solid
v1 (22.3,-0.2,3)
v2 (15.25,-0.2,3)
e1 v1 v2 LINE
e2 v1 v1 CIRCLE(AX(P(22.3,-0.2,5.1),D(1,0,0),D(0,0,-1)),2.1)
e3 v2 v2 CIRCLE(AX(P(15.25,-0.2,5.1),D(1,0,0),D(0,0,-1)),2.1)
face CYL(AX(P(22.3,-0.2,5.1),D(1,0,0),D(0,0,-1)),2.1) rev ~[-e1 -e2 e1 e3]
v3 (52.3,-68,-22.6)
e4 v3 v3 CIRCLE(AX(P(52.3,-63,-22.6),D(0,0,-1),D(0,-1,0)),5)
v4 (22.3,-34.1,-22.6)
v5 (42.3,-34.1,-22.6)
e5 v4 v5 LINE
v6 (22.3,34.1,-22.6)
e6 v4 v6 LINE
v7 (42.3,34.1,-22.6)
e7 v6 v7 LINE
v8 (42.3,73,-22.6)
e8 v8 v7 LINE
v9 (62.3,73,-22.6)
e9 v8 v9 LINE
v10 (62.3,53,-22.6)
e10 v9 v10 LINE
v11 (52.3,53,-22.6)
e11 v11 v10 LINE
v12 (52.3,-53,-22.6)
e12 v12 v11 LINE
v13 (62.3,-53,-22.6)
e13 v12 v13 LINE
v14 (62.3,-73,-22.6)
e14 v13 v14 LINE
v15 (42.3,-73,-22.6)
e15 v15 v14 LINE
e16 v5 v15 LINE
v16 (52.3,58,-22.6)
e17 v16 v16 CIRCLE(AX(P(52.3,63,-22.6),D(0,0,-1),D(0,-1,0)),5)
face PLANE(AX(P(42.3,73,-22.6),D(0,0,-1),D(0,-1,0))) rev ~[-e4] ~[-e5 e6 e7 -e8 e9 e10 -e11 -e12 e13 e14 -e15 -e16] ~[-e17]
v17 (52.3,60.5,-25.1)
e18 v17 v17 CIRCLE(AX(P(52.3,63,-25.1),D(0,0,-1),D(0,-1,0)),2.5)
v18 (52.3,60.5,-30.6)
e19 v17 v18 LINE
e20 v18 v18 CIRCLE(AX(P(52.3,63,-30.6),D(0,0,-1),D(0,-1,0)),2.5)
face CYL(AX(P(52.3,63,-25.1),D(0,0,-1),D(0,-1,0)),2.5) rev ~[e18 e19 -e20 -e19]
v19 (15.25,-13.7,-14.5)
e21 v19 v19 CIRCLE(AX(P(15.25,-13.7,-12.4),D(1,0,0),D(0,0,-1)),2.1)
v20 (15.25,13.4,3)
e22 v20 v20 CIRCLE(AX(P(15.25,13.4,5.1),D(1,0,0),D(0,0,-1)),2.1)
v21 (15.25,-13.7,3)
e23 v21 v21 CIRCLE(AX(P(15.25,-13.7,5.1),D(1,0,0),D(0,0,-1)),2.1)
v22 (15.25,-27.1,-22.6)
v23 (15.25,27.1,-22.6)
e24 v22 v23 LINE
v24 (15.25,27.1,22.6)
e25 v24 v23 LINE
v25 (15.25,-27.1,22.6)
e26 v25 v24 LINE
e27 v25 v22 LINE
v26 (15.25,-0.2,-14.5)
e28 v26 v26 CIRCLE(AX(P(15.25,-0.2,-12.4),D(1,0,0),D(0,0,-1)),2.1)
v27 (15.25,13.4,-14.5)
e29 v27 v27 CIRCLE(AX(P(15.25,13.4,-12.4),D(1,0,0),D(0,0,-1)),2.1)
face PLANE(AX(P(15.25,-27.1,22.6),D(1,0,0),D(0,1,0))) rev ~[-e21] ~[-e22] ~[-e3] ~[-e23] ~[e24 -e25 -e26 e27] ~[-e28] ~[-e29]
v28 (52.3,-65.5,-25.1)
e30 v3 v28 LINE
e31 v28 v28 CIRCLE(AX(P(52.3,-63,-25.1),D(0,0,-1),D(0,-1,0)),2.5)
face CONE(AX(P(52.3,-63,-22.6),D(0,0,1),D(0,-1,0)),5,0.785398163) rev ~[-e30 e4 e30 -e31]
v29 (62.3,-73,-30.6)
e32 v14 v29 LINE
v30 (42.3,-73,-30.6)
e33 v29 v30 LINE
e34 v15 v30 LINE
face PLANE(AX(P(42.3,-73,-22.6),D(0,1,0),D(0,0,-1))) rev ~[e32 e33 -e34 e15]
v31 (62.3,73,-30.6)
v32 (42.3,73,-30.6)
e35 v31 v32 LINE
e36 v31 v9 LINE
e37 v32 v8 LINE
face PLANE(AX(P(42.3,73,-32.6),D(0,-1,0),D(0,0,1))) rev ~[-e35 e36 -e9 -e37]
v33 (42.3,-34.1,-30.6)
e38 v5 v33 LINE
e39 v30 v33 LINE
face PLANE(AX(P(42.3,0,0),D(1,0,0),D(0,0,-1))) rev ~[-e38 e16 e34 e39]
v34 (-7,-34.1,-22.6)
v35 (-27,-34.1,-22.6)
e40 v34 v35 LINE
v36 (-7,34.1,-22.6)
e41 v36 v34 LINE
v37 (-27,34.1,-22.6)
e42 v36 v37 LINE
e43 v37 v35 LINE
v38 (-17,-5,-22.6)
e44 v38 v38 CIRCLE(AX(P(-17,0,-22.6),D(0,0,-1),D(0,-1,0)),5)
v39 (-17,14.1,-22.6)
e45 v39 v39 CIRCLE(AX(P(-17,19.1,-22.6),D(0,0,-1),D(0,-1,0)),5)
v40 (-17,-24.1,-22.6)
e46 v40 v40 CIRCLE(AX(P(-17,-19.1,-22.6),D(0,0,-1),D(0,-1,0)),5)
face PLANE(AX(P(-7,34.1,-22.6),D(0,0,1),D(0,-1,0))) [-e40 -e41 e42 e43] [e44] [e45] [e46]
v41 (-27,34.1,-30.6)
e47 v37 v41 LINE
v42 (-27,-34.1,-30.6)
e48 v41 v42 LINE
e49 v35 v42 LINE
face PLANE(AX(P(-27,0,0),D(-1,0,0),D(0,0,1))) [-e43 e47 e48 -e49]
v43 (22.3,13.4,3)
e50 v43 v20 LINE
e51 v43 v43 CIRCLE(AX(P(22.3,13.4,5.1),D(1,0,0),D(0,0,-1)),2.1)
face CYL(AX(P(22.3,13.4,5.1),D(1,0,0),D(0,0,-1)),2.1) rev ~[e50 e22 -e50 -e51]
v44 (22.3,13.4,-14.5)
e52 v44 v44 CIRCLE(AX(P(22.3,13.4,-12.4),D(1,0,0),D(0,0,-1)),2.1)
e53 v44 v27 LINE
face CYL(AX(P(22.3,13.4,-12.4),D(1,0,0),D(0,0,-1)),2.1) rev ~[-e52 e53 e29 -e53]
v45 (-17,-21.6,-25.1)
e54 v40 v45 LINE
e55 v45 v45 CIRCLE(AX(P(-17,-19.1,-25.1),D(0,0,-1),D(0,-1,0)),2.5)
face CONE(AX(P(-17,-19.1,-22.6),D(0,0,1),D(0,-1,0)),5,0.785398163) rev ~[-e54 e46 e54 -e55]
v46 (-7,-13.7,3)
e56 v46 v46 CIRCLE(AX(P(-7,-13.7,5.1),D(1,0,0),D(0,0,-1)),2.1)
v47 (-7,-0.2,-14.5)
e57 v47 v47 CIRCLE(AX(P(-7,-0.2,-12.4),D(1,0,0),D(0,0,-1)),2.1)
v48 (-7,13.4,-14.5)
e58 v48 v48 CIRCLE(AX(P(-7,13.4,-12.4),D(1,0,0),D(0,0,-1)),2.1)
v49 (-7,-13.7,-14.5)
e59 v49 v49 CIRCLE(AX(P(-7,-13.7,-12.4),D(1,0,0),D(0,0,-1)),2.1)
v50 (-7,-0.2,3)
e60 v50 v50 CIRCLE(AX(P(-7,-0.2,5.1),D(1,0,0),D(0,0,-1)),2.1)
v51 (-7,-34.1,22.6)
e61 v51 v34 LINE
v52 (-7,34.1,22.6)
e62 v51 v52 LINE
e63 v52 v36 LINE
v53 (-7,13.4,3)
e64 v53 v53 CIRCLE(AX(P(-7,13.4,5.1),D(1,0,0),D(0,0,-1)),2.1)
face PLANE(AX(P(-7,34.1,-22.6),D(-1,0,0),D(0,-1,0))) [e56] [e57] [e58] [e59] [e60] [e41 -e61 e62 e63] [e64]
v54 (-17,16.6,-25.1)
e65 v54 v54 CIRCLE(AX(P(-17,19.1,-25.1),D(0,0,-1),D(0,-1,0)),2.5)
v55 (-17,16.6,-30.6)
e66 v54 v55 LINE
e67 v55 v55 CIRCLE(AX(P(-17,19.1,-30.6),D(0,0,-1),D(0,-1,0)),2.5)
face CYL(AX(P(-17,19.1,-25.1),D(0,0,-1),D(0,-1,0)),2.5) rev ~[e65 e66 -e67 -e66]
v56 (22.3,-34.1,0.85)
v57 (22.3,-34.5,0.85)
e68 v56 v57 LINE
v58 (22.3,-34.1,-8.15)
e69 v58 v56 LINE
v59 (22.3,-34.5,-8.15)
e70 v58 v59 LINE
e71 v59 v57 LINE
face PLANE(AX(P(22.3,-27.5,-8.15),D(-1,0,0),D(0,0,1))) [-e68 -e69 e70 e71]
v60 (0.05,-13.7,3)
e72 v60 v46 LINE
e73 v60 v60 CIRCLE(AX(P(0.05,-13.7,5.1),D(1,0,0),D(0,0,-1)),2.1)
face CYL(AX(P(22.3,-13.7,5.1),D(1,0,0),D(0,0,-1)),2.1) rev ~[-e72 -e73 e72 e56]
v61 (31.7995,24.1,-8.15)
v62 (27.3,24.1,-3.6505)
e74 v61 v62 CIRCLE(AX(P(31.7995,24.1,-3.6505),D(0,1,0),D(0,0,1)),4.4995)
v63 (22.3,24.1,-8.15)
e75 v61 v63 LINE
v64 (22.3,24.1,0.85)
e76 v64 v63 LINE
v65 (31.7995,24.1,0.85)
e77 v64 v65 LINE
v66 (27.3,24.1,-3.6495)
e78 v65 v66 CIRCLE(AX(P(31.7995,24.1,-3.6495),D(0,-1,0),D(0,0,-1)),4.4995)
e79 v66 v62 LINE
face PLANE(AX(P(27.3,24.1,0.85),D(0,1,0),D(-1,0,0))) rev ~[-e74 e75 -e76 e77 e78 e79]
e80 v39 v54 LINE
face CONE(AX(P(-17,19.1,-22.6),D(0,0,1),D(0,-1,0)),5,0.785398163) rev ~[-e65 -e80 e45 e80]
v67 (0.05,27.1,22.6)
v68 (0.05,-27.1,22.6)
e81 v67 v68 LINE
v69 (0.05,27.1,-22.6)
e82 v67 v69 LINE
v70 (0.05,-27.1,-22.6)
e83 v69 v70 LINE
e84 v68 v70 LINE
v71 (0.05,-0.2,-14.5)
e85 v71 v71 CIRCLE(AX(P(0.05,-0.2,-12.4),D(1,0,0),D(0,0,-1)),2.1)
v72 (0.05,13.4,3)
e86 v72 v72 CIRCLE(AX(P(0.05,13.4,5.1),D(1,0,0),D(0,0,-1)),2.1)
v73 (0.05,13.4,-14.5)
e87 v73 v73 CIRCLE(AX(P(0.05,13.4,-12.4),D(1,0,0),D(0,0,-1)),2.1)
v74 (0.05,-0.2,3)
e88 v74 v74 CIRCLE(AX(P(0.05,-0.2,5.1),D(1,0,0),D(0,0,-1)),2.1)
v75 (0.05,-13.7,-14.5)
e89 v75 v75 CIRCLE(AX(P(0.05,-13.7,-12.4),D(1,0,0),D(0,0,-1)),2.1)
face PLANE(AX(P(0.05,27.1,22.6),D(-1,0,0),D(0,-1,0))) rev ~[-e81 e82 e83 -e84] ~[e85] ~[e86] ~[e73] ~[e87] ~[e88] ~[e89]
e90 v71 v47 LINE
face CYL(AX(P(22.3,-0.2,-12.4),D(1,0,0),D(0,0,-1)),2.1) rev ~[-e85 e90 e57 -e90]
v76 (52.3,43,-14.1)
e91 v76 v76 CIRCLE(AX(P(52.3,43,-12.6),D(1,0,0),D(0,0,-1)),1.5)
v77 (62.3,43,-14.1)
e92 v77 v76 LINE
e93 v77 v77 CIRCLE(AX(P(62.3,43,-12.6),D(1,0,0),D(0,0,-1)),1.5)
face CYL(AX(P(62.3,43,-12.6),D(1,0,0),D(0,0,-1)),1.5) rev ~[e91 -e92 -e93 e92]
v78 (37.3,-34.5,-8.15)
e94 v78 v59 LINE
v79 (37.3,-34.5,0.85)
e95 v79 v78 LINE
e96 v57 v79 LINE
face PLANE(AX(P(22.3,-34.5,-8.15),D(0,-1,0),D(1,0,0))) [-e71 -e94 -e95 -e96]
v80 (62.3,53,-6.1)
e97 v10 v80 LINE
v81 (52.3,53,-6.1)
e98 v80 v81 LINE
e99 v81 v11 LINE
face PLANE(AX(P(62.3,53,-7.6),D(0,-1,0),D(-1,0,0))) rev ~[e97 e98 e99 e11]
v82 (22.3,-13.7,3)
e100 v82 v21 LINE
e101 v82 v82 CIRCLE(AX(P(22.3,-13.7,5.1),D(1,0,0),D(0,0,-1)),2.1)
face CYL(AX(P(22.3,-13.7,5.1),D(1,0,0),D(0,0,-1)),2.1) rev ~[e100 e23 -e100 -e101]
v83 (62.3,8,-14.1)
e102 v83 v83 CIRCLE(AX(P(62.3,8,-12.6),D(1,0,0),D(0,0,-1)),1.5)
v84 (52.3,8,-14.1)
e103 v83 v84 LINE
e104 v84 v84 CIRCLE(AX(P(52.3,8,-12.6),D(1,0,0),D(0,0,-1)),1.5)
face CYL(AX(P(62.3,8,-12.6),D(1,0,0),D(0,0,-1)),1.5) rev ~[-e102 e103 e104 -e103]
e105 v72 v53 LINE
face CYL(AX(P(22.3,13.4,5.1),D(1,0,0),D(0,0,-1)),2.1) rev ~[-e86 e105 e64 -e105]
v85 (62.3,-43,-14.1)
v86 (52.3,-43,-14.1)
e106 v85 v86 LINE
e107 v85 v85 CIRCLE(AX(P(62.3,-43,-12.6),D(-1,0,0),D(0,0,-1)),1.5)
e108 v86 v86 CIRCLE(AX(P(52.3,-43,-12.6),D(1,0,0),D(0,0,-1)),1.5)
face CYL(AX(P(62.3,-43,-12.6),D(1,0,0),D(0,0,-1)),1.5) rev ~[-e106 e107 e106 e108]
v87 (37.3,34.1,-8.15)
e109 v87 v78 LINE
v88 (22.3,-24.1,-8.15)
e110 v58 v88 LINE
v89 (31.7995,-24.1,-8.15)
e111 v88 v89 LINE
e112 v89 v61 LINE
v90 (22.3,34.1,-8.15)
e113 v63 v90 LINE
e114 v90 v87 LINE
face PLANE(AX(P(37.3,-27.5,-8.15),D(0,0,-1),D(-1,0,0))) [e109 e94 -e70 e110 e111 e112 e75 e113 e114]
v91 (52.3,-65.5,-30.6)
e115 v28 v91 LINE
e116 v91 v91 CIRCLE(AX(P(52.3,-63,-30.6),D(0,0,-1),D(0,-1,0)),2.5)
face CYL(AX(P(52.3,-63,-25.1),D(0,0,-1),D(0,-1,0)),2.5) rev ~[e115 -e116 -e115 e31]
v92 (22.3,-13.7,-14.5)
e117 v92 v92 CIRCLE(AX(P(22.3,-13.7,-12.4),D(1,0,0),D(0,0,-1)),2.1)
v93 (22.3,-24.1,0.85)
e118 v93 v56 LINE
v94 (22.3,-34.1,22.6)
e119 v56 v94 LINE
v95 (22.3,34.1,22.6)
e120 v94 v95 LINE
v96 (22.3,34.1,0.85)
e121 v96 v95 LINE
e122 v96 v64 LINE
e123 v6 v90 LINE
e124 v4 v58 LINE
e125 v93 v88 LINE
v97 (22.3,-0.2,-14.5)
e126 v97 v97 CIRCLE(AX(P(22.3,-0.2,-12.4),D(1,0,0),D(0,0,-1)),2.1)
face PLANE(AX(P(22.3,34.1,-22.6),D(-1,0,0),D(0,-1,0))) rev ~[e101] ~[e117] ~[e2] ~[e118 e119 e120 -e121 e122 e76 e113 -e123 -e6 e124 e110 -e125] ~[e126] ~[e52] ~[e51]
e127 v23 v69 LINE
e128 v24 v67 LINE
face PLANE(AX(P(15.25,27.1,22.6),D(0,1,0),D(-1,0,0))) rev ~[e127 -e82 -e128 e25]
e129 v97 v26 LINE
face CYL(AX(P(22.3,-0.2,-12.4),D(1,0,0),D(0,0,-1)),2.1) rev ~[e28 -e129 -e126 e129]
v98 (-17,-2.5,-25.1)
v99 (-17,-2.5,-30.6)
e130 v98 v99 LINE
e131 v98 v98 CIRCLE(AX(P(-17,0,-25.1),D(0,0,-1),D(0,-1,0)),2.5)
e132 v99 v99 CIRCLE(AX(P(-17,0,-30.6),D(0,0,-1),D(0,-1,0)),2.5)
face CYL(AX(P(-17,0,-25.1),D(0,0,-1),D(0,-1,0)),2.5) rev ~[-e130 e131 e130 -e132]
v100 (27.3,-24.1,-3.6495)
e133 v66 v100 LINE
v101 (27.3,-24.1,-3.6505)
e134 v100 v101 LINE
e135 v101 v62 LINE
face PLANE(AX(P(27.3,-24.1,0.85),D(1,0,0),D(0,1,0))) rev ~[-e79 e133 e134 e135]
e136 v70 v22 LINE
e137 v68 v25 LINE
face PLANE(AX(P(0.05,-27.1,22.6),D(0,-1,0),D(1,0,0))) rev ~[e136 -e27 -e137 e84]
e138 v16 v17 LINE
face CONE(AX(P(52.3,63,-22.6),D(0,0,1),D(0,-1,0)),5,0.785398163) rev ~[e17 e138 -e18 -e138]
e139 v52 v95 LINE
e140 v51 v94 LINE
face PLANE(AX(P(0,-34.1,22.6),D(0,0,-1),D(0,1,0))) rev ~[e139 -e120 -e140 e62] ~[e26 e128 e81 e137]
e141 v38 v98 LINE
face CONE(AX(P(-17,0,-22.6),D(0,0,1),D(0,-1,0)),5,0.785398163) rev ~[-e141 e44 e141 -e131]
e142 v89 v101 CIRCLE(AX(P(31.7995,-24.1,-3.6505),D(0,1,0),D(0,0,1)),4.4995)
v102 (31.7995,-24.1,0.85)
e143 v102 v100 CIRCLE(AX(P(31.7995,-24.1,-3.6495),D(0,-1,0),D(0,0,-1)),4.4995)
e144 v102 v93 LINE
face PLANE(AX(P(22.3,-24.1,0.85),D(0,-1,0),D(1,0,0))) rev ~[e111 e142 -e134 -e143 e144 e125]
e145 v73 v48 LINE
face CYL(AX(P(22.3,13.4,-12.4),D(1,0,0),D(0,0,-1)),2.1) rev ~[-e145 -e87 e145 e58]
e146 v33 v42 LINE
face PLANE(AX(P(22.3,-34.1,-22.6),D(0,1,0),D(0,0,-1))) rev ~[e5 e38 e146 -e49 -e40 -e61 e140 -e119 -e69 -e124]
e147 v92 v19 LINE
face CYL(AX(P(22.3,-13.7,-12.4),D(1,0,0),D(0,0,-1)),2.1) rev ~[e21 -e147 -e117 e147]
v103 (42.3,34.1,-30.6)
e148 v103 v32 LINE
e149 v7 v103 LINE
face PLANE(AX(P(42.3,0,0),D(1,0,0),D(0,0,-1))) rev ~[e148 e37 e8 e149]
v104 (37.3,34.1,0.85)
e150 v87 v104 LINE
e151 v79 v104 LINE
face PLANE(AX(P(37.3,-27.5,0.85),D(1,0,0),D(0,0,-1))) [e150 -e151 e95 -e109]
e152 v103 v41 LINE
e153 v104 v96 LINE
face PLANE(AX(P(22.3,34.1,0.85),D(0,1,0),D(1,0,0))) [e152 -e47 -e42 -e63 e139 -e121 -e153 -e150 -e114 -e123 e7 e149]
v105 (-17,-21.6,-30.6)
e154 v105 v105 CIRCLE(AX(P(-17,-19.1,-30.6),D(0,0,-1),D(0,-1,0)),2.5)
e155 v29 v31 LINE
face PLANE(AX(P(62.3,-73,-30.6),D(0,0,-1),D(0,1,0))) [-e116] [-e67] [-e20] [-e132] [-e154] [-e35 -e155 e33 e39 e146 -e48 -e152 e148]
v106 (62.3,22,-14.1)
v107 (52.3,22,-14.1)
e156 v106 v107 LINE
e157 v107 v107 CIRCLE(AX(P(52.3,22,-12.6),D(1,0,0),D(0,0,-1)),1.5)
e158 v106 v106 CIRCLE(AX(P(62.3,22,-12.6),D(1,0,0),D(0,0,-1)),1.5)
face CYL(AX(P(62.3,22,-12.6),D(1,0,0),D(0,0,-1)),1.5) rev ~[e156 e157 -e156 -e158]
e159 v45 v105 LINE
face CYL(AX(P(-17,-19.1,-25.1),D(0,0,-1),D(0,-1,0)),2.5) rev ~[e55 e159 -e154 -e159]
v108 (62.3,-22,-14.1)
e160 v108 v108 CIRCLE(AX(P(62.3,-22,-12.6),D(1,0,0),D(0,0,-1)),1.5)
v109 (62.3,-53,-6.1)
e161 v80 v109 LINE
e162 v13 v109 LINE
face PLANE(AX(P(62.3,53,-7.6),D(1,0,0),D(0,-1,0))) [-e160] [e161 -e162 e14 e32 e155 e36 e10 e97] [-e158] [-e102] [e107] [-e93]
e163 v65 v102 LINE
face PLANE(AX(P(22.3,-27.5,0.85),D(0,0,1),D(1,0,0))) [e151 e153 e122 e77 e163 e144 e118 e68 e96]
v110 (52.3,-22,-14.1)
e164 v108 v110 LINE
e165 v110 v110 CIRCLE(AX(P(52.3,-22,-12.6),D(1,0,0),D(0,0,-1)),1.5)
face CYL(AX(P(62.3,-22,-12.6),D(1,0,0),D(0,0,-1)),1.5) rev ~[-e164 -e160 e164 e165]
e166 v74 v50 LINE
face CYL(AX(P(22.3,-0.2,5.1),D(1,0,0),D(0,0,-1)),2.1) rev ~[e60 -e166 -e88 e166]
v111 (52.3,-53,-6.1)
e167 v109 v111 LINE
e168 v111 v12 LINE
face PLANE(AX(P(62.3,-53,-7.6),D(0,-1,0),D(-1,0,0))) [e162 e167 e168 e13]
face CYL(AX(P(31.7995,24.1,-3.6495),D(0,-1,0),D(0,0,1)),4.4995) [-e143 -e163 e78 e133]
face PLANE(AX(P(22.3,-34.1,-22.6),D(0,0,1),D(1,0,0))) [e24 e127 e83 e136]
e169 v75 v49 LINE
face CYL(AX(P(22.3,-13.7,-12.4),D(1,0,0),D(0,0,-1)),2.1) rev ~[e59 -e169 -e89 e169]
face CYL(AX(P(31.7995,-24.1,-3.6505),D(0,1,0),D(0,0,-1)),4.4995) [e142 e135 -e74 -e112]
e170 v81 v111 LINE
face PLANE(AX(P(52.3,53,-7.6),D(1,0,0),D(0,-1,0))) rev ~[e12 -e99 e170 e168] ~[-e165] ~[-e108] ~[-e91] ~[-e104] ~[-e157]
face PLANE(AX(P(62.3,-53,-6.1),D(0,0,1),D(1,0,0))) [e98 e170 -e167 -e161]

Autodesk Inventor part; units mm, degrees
ref_plane "YZ Plane" through (0, 0, 0) normal (1, 0, 0) x (0, 1, 0)
ref_plane "XZ Plane" through (0, 0, 0) normal (0, 1, 0) x (-1, 0, 0)
ref_plane "XY Plane" through (0, 0, 0) normal (0, 0, 1) x (1, 0, 0)
sketch "Sketch1" plane through (0, 0, 0) normal (1, 0, 0) x (0, 1, 0)
  line L0 (27.1, -22.6) -> (-27.1, -22.6)
  line L1 (-27.1, -22.6) -> (-27.1, 22.6)
  line L2 (-27.1, 22.6) -> (27.1, 22.6)
  line L3 (27.1, 22.6) -> (27.1, -22.6)
  line L4 (27.1, -22.6) -> (-27.1, 22.6) construction
  line L5 (-27.1, -22.6) -> (27.1, 22.6) construction
  point P0 (0, 0)
  dimension "d0" = 54.2
  dimension "d1" = 45.2
extrude "Extrusion1" add sketch "Sketch1" along normal blind 15.3
sketch "Sketch2" plane through (0, 27.1, 22.6) normal (0, 1, 0) x (1, 0, 0)
  line L0 (15.3, 0) -> (15.3, 45.2) projected
  line L1 (0, 0) -> (0, 45.2) projected
  line L2 (15.3, 0) -> (0, 0)
  line L3 (0, 0) -> (0, 45.2)
  line L4 (0, 45.2) -> (15.3, 45.2)
  line L5 (15.3, 45.2) -> (15.3, 0)
  point P0 (0, 22.6)
extrude "Extrusion2" add sketch "Sketch2" along normal blind 7
sketch "Sketch3" plane through (0, -27.1, -22.6) normal (0, -1, 0) x (1, 0, 0)
  line L0 (0, 45.2) -> (0, 0) projected
  line L1 (15.3, 45.2) -> (15.3, 0) projected
  line L2 (0, 45.2) -> (15.3, 45.2)
  line L3 (15.3, 45.2) -> (15.3, 0)
  line L4 (15.3, 0) -> (0, 0)
  line L5 (0, 0) -> (0, 45.2)
  point P0 (0, 22.6)
extrude "Extrusion3" add sketch "Sketch3" along normal blind 7
sketch "Sketch4" plane through (15.3, 0, 0) normal (1, 0, 0) x (0, 0, -1)
  line L0 (-22.6, -34.1) -> (-22.6, 34.1) projected
  line L1 (-22.6, 34.1) -> (22.6, 34.1) projected
  line L2 (-22.6, -34.1) -> (22.6, -34.1)
  line L3 (22.6, -34.1) -> (22.6, 34.1)
  line L4 (22.6, 34.1) -> (-22.6, 34.1)
  line L5 (-22.6, 34.1) -> (-22.6, -34.1)
  point P0 (0, 0)
extrude "Extrusion4" add sketch "Sketch4" along normal blind 7
sketch "Sketch5" plane through (0, 0, 0) normal (-1, 0, 0) x (0, 0, 1)
  line L0 (-22.6, 34.1) -> (22.6, 34.1) projected
  line L1 (22.6, -34.1) -> (-22.6, -34.1) projected
  line L2 (22.6, 34.1) -> (-22.6, 34.1)
  line L3 (-22.6, 34.1) -> (-22.6, -34.1)
  line L4 (-22.6, -34.1) -> (22.6, -34.1)
  line L5 (22.6, -34.1) -> (22.6, 34.1)
  point P0 (0, 0)
extrude "Extrusion5" add sketch "Sketch5" along normal blind 7
sketch "Sketch6" plane through (22.3, -34.1, -22.6) normal (0, 0, -1) x (-1, 0, 0)
  line L0 (29.3, 0) -> (0, 0) projected
  line L1 (0, 68.2) -> (0, 0) projected
  line L2 (29.3, 0) -> (0, 0)
  line L3 (0, 0) -> (0, 68.2)
  line L4 (0, 68.2) -> (29.3, 68.2)
  line L5 (29.3, 68.2) -> (29.3, 0)
  point P0 (22.3, 34.1)
extrude "Extrusion6" add sketch "Sketch6" along normal blind 10
sketch "Sketch7" plane through (-7, 0, 0) normal (-1, 0, 0) x (0, 0, 1)
  line L0 (22.6, 34.1) -> (-32.6, 34.1) projected
  line L1 (22.6, -34.1) -> (-32.6, -34.1) projected
  line L2 (-32.6, 34.1) -> (-22.6, 34.1)
  line L3 (-22.6, 34.1) -> (-22.6, -34.1)
  line L4 (-22.6, -34.1) -> (-32.6, -34.1)
  line L5 (-32.6, -34.1) -> (-32.6, 34.1)
  point P0 (0, 0)
  dimension "d14" = 10
extrude "Extrusion7" add sketch "Sketch7" along normal blind 20
sketch "Sketch8" plane through (22.3, -34.1, 22.6) normal (0, 0, 1) x (1, 0, 0)
  line L0 (0, 68.2) -> (-49.3, 68.2) projected
  line L1 (-29.3, 0) -> (-29.3, 68.2) projected
  line L2 (0, 68.2) -> (-29.3, 68.2)
  line L3 (-29.3, 68.2) -> (-29.3, 0)
  line L4 (-29.3, 0) -> (0, 0)
  line L5 (0, 0) -> (0, 68.2)
  line L6 (-22.25, 7) -> (-7.05, 7)
  line L7 (-7.05, 7) -> (-7.05, 61.2)
  line L8 (-7.05, 61.2) -> (-22.25, 61.2)
  line L9 (-22.25, 61.2) -> (-22.25, 7)
  line L10 (-22.25, 7) -> (-7.05, 61.2) construction
  line L11 (-7.05, 7) -> (-22.25, 61.2) construction
  point P0 (-22.3, 34.1)
  point P1 (-14.65, 34.1)
  dimension "d17" = 15.2
  dimension "d18" = 54.2
extrude "Extrusion8" cut sketch "Sketch8" against normal blind 45.2 contours L9 L8 L7 L6
sketch "Sketch9" plane through (22.3, 0, 0) normal (1, 0, 0) x (0, 0, -1)
  line L0 (-22.6, -27.1) -> (22.6, -27.1) projected
  line L1 (-22.6, 27.1) -> (22.6, 27.1) projected
  line L2 (-22.6, -27.1) -> (22.6, -27.1)
  line L3 (22.6, -27.1) -> (22.6, 27.1)
  line L4 (22.6, 27.1) -> (-22.6, 27.1)
  line L5 (-22.6, 27.1) -> (-22.6, -27.1)
  line L6 (-22.6, -27.1) -> (-5.1, -27.1)
  circle A0 centre (-5.1, -13.7) radius 2.1
  circle A1 centre (-5.1, -0.2) radius 2.1
  circle A2 centre (-5.1, 13.4) radius 2.1
  circle A3 centre (12.4, -13.7) radius 2.1
  circle A4 centre (12.4, -0.2) radius 2.1
  circle A5 centre (12.4, 13.4) radius 2.1
  point P0 (0, 0)
extrude "Extrusion9" cut sketch "Sketch9" against normal blind 39.25 contours A0 | A1 | A2 | A3 | A4 | A5
sketch "Sketch10" plane through (22.3, 0, 0) normal (1, 0, 0) x (0, 0, -1)
  line L0 (-22.6, -34.1) -> (32.6, -34.1) projected
  line L1 (-22.6, 34.1) -> (32.6, 34.1) projected
  line L2 (32.6, -34.1) -> (22.6, -34.1)
  line L3 (22.6, -34.1) -> (22.6, 34.1)
  line L4 (22.6, 34.1) -> (32.6, 34.1)
  line L5 (32.6, 34.1) -> (32.6, -34.1)
  point P0 (0, 0)
  dimension "d36" = 10
extrude "Extrusion10" add sketch "Sketch10" along normal blind 20
sketch "Sketch11" plane through (42.3, 0, 0) normal (1, 0, 0) x (0, 0, -1)
  line L0 (32.6, 73) -> (22.6, 73)
  line L1 (22.6, 73) -> (22.6, -73)
  line L2 (22.6, -73) -> (32.6, -73)
  line L3 (32.6, -73) -> (32.6, 73)
  line L4 (32.6, 73) -> (22.6, -73) construction
  line L5 (22.6, 73) -> (32.6, -73) construction
  point P0 (0, 0)
  point P1 (27.6, 0)
  dimension "d62" = 10
  dimension "d63" = 146
sketch "Sketch12" plane through (22.3, 0, 0) normal (1, 0, 0) x (0, 0, -1)
  circle A0 centre (-5.1, -0.2) radius 2.1 projected
  circle A1 centre (12.4, -0.2) radius 2.1 projected
  line L0 (-5.1, -0.2) -> (12.4, -0.2)
  line L1 (-22.6, 27.1) -> (22.6, 27.1) projected
  line L2 (-0.85, -27.5) -> (8.15, -27.5)
  line L3 (8.15, -27.5) -> (8.15, 27.1)
  line L4 (8.15, 27.1) -> (-0.85, 27.1)
  line L5 (-0.85, 27.1) -> (-0.85, -27.5)
  line L6 (-0.85, -27.5) -> (8.15, 27.1) construction
  line L7 (8.15, -27.5) -> (-0.85, 27.1) construction
  point P0 (0, 0)
  point P1 (3.65, -0.2)
  dimension "d42" = 9
extrude "Extrusion12" add sketch "Sketch12" along normal blind 15 contours L5 L1 L3 L0 | L0 L3 L2 L5
sketch "Sketch13" plane through (22.3, -27.5, 0.85) normal (0, 0, 1) x (1, 0, 0)
  line L0 (0, 0) -> (15, 0) projected
  line L1 (15, 0) -> (15, 10)
  line L2 (15, 54.6) -> (15, 0) projected
  line L3 (15, 0) -> (25, 0) construction
  line L4 (0, 54.6) -> (15, 54.6) projected
  line L5 (15, 54.6) -> (15, 44.6)
  line L6 (0, 54.6) -> (0, 0) projected
  line L7 (5, 10) -> (5, 44.6)
  line L8 (0, 44.6) -> (0, 10)
  line L9 (0, -6.6) -> (0, 3.4)
  line L10 (0, 61.6) -> (0, 51.6)
  line L11 (0, 61.6) -> (10, 61.6) construction
  line L12 (0, 3.4) -> (5, 3.4)
  line L13 (5, 3.4) -> (5, 51.6)
  line L14 (5, 51.6) -> (0, 51.6)
  line L15 (0, 51.6) -> (0, 3.4)
  point P0 (-22.3, 27.5)
  dimension "d45" = 10
  dimension "d46" = 90
  dimension "d47" = 10
  dimension "d48" = 5
  dimension "d56" = 10
  dimension "d57" = 10
  dimension "d58" = 90
sketch "Sketch14" plane through (22.3, 27.1, 0.85) normal (0, 1, 0) x (1, 0, 0)
  line L0 (15, 9) -> (15, 0) projected
  line L1 (0, 9) -> (0, 0) projected
  line L2 (15, 0) -> (0, 0)
  line L3 (0, 0) -> (0, 9)
  line L4 (0, 9) -> (15, 9)
  line L5 (15, 9) -> (15, 0)
  point P0 (-22.3, 0.85)
extrude "Extrusion14" add sketch "Sketch14" along normal blind 7
sketch "Sketch15" plane through (22.3, -27.5, -8.15) normal (0, -1, 0) x (1, 0, 0)
  line L0 (0, 0) -> (0, 9) projected
  line L1 (15, 9) -> (15, 0) projected
  line L2 (0, 9) -> (15, 9)
  line L3 (15, 9) -> (15, 0)
  line L4 (15, 0) -> (0, 0)
  line L5 (0, 0) -> (0, 9)
  point P0 (-22.3, 8.15)
extrude "Extrusion15" add sketch "Sketch15" along normal blind 7
extrude "Extrusion16" cut sketch "Sketch13" against normal blind 9.75 contours L6 L14 L13 L7 L12
fillet "Fillet2" radius 4.5 2 edges at (27.3, 0, 0.85) (27.3, 0, -8.15)
extrude "Extrusion17" add sketch "Sketch11" along normal blind 20
sketch "Sketch16" plane through (22.3, -34.1, -22.6) normal (0, 0, 1) x (1, 0, 0)
  line L0 (20, 0) -> (20, -38.9) projected
  line L1 (40, -38.9) -> (40, 107.1) projected
  line L2 (20, -38.9) -> (40, -38.9)
  line L3 (40, -38.9) -> (40, 107.1)
  line L4 (40, 107.1) -> (20, 107.1)
  line L5 (20, 107.1) -> (20, -38.9)
  line L6 (20, -38.9) -> (20, -18.9)
  line L7 (20, -18.9) -> (40, -18.9)
  line L8 (40, -18.9) -> (40, -38.9)
  line L9 (20, 107.1) -> (20, 87.1)
  line L10 (20, 68.2) -> (20, 107.1) projected
  line L11 (20, 87.1) -> (40, 87.1)
  line L12 (40, 107.1) -> (40, 87.1)
  line L13 (40, 107.1) -> (20, 107.1)
  line L14 (40, -18.9) -> (30, -18.9)
  line L15 (30, -18.9) -> (30, 87.1)
  line L16 (30, 87.1) -> (40, 87.1)
  line L17 (40, 87.1) -> (40, -18.9)
  point P0 (-22.3, 34.1)
  dimension "d66" = 20
  dimension "d67" = 20
  dimension "d68" = 10
extrude "Extrusion18" add sketch "Sketch16" along normal blind 20 contours L15 L11 L1 L7
sketch "Sketch17" plane through (62.3, 0, 0) normal (1, 0, 0) x (0, 0, -1)
  line L0 (2.6, -53) -> (2.6, 53) projected
  line L1 (22.6, -53) -> (2.6, -53) projected
  line L2 (2.6, -53) -> (22.6, -53)
  line L3 (22.6, 53) -> (2.6, 53) projected
  line L4 (22.6, -53) -> (22.6, 53)
  line L5 (2.6, 53) -> (2.6, 43)
  line L6 (2.6, 43) -> (2.6, 22)
  line L7 (2.6, -53) -> (2.6, -43)
  line L8 (2.6, -43) -> (2.6, -22)
  line L9 (2.6, 22) -> (2.6, 8)
  line L10 (2.6, -43) -> (12.6, -43)
  circle A0 centre (12.6, -43) radius 1.5
  circle A1 centre (12.6, -22) radius 1.5
  circle A2 centre (12.6, 8) radius 1.5
  circle A3 centre (12.6, 22) radius 1.5
  circle A4 centre (12.6, 43) radius 1.5
  line L11 (2.6, -53) -> (7.6, -53)
  line L12 (7.6, -53) -> (7.6, 53)
  line L13 (7.6, 53) -> (2.6, 53)
  line L14 (2.6, 53) -> (2.6, -53)
  point P0 (0, 0)
  dimension "d71" = 10
  dimension "d72" = 21
  dimension "d73" = 10
  dimension "d74" = 21
  dimension "d75" = 14
  dimension "d76" = 3
  dimension "d77" = 3
  dimension "d78" = 3
  dimension "d79" = 3
  dimension "d80" = 3
  dimension "d81" = 5
extrude "Extrusion19" cut sketch "Sketch17" against normal blind 20 contours L0 L10 L12 L1 | L0 L3 L12 L10 | A0 | A1 | A2 | A3 | A4
sketch "Sketch18" plane through (62.3, -53, -7.6) normal (0, 0, 1) x (1, 0, 0)
  line L0 (0, 0) -> (-10, 0) projected
  line L1 (0, 106) -> (0, 0) projected
  line L2 (-10, 0) -> (0, 0)
  line L3 (0, 0) -> (0, 106)
  line L4 (0, 106) -> (-10, 106)
  line L5 (-10, 106) -> (-10, 0)
  point P0 (-62.3, 53)
extrude "Extrusion20" add sketch "Sketch18" along normal blind 1.5
sketch "Sketch19" plane through (22.3, -34.1, -22.6) normal (0, 0, 1) x (1, 0, 0)
  line L0 (20, 107.1) -> (40, 107.1) projected
  line L1 (30, 107.1) -> (30, 97.1)
  line L2 (20, -38.9) -> (40, -38.9) projected
  line L3 (30, -38.9) -> (30, -28.9)
  line L4 (-29.3, 0) -> (-49.3, 0) projected
  line L5 (-39.3, 0) -> (-39.3, 68.2)
  line L6 (-29.3, 68.2) -> (-49.3, 68.2) projected
  line L7 (-39.3, 68.2) -> (-39.3, 53.2)
  line L8 (-39.3, 0) -> (-39.3, 15)
  line L9 (-39.3, 34.1) -> (-41.2293, 34.1)
  point P0 (-22.3, 34.1)
  dimension "d86" = 10
  dimension "d87" = 10
  dimension "d88" = 15
  dimension "d89" = 15
hole "Hole1" at (-17, 19.1, -22.6) at (-17, 0, -22.6) at (-17, -19.1, -22.6) at (52.3, 63, -22.6) at (52.3, -63, -22.6) direction (0, 0, -1) diameter 5 end through all countersink diameter 10 countersink angle 90
sketch "Sketch21" plane through (62.3, 0, 0) normal (1, 0, 0) x (0, 0, -1)
  line L0 (22.6, -73) -> (32.6, -73) projected
  line L1 (32.6, 73) -> (22.6, 73) projected
  line L2 (32.6, -73) -> (30.6, -73)
  line L3 (30.6, -73) -> (30.6, 73)
  line L4 (30.6, 73) -> (32.6, 73)
  line L5 (32.6, 73) -> (32.6, -73)
  point P0 (0, 0)
  dimension "d97" = 2
extrude "Extrusion21" cut sketch "Sketch21" against normal blind 171.5
properties part number "base"
